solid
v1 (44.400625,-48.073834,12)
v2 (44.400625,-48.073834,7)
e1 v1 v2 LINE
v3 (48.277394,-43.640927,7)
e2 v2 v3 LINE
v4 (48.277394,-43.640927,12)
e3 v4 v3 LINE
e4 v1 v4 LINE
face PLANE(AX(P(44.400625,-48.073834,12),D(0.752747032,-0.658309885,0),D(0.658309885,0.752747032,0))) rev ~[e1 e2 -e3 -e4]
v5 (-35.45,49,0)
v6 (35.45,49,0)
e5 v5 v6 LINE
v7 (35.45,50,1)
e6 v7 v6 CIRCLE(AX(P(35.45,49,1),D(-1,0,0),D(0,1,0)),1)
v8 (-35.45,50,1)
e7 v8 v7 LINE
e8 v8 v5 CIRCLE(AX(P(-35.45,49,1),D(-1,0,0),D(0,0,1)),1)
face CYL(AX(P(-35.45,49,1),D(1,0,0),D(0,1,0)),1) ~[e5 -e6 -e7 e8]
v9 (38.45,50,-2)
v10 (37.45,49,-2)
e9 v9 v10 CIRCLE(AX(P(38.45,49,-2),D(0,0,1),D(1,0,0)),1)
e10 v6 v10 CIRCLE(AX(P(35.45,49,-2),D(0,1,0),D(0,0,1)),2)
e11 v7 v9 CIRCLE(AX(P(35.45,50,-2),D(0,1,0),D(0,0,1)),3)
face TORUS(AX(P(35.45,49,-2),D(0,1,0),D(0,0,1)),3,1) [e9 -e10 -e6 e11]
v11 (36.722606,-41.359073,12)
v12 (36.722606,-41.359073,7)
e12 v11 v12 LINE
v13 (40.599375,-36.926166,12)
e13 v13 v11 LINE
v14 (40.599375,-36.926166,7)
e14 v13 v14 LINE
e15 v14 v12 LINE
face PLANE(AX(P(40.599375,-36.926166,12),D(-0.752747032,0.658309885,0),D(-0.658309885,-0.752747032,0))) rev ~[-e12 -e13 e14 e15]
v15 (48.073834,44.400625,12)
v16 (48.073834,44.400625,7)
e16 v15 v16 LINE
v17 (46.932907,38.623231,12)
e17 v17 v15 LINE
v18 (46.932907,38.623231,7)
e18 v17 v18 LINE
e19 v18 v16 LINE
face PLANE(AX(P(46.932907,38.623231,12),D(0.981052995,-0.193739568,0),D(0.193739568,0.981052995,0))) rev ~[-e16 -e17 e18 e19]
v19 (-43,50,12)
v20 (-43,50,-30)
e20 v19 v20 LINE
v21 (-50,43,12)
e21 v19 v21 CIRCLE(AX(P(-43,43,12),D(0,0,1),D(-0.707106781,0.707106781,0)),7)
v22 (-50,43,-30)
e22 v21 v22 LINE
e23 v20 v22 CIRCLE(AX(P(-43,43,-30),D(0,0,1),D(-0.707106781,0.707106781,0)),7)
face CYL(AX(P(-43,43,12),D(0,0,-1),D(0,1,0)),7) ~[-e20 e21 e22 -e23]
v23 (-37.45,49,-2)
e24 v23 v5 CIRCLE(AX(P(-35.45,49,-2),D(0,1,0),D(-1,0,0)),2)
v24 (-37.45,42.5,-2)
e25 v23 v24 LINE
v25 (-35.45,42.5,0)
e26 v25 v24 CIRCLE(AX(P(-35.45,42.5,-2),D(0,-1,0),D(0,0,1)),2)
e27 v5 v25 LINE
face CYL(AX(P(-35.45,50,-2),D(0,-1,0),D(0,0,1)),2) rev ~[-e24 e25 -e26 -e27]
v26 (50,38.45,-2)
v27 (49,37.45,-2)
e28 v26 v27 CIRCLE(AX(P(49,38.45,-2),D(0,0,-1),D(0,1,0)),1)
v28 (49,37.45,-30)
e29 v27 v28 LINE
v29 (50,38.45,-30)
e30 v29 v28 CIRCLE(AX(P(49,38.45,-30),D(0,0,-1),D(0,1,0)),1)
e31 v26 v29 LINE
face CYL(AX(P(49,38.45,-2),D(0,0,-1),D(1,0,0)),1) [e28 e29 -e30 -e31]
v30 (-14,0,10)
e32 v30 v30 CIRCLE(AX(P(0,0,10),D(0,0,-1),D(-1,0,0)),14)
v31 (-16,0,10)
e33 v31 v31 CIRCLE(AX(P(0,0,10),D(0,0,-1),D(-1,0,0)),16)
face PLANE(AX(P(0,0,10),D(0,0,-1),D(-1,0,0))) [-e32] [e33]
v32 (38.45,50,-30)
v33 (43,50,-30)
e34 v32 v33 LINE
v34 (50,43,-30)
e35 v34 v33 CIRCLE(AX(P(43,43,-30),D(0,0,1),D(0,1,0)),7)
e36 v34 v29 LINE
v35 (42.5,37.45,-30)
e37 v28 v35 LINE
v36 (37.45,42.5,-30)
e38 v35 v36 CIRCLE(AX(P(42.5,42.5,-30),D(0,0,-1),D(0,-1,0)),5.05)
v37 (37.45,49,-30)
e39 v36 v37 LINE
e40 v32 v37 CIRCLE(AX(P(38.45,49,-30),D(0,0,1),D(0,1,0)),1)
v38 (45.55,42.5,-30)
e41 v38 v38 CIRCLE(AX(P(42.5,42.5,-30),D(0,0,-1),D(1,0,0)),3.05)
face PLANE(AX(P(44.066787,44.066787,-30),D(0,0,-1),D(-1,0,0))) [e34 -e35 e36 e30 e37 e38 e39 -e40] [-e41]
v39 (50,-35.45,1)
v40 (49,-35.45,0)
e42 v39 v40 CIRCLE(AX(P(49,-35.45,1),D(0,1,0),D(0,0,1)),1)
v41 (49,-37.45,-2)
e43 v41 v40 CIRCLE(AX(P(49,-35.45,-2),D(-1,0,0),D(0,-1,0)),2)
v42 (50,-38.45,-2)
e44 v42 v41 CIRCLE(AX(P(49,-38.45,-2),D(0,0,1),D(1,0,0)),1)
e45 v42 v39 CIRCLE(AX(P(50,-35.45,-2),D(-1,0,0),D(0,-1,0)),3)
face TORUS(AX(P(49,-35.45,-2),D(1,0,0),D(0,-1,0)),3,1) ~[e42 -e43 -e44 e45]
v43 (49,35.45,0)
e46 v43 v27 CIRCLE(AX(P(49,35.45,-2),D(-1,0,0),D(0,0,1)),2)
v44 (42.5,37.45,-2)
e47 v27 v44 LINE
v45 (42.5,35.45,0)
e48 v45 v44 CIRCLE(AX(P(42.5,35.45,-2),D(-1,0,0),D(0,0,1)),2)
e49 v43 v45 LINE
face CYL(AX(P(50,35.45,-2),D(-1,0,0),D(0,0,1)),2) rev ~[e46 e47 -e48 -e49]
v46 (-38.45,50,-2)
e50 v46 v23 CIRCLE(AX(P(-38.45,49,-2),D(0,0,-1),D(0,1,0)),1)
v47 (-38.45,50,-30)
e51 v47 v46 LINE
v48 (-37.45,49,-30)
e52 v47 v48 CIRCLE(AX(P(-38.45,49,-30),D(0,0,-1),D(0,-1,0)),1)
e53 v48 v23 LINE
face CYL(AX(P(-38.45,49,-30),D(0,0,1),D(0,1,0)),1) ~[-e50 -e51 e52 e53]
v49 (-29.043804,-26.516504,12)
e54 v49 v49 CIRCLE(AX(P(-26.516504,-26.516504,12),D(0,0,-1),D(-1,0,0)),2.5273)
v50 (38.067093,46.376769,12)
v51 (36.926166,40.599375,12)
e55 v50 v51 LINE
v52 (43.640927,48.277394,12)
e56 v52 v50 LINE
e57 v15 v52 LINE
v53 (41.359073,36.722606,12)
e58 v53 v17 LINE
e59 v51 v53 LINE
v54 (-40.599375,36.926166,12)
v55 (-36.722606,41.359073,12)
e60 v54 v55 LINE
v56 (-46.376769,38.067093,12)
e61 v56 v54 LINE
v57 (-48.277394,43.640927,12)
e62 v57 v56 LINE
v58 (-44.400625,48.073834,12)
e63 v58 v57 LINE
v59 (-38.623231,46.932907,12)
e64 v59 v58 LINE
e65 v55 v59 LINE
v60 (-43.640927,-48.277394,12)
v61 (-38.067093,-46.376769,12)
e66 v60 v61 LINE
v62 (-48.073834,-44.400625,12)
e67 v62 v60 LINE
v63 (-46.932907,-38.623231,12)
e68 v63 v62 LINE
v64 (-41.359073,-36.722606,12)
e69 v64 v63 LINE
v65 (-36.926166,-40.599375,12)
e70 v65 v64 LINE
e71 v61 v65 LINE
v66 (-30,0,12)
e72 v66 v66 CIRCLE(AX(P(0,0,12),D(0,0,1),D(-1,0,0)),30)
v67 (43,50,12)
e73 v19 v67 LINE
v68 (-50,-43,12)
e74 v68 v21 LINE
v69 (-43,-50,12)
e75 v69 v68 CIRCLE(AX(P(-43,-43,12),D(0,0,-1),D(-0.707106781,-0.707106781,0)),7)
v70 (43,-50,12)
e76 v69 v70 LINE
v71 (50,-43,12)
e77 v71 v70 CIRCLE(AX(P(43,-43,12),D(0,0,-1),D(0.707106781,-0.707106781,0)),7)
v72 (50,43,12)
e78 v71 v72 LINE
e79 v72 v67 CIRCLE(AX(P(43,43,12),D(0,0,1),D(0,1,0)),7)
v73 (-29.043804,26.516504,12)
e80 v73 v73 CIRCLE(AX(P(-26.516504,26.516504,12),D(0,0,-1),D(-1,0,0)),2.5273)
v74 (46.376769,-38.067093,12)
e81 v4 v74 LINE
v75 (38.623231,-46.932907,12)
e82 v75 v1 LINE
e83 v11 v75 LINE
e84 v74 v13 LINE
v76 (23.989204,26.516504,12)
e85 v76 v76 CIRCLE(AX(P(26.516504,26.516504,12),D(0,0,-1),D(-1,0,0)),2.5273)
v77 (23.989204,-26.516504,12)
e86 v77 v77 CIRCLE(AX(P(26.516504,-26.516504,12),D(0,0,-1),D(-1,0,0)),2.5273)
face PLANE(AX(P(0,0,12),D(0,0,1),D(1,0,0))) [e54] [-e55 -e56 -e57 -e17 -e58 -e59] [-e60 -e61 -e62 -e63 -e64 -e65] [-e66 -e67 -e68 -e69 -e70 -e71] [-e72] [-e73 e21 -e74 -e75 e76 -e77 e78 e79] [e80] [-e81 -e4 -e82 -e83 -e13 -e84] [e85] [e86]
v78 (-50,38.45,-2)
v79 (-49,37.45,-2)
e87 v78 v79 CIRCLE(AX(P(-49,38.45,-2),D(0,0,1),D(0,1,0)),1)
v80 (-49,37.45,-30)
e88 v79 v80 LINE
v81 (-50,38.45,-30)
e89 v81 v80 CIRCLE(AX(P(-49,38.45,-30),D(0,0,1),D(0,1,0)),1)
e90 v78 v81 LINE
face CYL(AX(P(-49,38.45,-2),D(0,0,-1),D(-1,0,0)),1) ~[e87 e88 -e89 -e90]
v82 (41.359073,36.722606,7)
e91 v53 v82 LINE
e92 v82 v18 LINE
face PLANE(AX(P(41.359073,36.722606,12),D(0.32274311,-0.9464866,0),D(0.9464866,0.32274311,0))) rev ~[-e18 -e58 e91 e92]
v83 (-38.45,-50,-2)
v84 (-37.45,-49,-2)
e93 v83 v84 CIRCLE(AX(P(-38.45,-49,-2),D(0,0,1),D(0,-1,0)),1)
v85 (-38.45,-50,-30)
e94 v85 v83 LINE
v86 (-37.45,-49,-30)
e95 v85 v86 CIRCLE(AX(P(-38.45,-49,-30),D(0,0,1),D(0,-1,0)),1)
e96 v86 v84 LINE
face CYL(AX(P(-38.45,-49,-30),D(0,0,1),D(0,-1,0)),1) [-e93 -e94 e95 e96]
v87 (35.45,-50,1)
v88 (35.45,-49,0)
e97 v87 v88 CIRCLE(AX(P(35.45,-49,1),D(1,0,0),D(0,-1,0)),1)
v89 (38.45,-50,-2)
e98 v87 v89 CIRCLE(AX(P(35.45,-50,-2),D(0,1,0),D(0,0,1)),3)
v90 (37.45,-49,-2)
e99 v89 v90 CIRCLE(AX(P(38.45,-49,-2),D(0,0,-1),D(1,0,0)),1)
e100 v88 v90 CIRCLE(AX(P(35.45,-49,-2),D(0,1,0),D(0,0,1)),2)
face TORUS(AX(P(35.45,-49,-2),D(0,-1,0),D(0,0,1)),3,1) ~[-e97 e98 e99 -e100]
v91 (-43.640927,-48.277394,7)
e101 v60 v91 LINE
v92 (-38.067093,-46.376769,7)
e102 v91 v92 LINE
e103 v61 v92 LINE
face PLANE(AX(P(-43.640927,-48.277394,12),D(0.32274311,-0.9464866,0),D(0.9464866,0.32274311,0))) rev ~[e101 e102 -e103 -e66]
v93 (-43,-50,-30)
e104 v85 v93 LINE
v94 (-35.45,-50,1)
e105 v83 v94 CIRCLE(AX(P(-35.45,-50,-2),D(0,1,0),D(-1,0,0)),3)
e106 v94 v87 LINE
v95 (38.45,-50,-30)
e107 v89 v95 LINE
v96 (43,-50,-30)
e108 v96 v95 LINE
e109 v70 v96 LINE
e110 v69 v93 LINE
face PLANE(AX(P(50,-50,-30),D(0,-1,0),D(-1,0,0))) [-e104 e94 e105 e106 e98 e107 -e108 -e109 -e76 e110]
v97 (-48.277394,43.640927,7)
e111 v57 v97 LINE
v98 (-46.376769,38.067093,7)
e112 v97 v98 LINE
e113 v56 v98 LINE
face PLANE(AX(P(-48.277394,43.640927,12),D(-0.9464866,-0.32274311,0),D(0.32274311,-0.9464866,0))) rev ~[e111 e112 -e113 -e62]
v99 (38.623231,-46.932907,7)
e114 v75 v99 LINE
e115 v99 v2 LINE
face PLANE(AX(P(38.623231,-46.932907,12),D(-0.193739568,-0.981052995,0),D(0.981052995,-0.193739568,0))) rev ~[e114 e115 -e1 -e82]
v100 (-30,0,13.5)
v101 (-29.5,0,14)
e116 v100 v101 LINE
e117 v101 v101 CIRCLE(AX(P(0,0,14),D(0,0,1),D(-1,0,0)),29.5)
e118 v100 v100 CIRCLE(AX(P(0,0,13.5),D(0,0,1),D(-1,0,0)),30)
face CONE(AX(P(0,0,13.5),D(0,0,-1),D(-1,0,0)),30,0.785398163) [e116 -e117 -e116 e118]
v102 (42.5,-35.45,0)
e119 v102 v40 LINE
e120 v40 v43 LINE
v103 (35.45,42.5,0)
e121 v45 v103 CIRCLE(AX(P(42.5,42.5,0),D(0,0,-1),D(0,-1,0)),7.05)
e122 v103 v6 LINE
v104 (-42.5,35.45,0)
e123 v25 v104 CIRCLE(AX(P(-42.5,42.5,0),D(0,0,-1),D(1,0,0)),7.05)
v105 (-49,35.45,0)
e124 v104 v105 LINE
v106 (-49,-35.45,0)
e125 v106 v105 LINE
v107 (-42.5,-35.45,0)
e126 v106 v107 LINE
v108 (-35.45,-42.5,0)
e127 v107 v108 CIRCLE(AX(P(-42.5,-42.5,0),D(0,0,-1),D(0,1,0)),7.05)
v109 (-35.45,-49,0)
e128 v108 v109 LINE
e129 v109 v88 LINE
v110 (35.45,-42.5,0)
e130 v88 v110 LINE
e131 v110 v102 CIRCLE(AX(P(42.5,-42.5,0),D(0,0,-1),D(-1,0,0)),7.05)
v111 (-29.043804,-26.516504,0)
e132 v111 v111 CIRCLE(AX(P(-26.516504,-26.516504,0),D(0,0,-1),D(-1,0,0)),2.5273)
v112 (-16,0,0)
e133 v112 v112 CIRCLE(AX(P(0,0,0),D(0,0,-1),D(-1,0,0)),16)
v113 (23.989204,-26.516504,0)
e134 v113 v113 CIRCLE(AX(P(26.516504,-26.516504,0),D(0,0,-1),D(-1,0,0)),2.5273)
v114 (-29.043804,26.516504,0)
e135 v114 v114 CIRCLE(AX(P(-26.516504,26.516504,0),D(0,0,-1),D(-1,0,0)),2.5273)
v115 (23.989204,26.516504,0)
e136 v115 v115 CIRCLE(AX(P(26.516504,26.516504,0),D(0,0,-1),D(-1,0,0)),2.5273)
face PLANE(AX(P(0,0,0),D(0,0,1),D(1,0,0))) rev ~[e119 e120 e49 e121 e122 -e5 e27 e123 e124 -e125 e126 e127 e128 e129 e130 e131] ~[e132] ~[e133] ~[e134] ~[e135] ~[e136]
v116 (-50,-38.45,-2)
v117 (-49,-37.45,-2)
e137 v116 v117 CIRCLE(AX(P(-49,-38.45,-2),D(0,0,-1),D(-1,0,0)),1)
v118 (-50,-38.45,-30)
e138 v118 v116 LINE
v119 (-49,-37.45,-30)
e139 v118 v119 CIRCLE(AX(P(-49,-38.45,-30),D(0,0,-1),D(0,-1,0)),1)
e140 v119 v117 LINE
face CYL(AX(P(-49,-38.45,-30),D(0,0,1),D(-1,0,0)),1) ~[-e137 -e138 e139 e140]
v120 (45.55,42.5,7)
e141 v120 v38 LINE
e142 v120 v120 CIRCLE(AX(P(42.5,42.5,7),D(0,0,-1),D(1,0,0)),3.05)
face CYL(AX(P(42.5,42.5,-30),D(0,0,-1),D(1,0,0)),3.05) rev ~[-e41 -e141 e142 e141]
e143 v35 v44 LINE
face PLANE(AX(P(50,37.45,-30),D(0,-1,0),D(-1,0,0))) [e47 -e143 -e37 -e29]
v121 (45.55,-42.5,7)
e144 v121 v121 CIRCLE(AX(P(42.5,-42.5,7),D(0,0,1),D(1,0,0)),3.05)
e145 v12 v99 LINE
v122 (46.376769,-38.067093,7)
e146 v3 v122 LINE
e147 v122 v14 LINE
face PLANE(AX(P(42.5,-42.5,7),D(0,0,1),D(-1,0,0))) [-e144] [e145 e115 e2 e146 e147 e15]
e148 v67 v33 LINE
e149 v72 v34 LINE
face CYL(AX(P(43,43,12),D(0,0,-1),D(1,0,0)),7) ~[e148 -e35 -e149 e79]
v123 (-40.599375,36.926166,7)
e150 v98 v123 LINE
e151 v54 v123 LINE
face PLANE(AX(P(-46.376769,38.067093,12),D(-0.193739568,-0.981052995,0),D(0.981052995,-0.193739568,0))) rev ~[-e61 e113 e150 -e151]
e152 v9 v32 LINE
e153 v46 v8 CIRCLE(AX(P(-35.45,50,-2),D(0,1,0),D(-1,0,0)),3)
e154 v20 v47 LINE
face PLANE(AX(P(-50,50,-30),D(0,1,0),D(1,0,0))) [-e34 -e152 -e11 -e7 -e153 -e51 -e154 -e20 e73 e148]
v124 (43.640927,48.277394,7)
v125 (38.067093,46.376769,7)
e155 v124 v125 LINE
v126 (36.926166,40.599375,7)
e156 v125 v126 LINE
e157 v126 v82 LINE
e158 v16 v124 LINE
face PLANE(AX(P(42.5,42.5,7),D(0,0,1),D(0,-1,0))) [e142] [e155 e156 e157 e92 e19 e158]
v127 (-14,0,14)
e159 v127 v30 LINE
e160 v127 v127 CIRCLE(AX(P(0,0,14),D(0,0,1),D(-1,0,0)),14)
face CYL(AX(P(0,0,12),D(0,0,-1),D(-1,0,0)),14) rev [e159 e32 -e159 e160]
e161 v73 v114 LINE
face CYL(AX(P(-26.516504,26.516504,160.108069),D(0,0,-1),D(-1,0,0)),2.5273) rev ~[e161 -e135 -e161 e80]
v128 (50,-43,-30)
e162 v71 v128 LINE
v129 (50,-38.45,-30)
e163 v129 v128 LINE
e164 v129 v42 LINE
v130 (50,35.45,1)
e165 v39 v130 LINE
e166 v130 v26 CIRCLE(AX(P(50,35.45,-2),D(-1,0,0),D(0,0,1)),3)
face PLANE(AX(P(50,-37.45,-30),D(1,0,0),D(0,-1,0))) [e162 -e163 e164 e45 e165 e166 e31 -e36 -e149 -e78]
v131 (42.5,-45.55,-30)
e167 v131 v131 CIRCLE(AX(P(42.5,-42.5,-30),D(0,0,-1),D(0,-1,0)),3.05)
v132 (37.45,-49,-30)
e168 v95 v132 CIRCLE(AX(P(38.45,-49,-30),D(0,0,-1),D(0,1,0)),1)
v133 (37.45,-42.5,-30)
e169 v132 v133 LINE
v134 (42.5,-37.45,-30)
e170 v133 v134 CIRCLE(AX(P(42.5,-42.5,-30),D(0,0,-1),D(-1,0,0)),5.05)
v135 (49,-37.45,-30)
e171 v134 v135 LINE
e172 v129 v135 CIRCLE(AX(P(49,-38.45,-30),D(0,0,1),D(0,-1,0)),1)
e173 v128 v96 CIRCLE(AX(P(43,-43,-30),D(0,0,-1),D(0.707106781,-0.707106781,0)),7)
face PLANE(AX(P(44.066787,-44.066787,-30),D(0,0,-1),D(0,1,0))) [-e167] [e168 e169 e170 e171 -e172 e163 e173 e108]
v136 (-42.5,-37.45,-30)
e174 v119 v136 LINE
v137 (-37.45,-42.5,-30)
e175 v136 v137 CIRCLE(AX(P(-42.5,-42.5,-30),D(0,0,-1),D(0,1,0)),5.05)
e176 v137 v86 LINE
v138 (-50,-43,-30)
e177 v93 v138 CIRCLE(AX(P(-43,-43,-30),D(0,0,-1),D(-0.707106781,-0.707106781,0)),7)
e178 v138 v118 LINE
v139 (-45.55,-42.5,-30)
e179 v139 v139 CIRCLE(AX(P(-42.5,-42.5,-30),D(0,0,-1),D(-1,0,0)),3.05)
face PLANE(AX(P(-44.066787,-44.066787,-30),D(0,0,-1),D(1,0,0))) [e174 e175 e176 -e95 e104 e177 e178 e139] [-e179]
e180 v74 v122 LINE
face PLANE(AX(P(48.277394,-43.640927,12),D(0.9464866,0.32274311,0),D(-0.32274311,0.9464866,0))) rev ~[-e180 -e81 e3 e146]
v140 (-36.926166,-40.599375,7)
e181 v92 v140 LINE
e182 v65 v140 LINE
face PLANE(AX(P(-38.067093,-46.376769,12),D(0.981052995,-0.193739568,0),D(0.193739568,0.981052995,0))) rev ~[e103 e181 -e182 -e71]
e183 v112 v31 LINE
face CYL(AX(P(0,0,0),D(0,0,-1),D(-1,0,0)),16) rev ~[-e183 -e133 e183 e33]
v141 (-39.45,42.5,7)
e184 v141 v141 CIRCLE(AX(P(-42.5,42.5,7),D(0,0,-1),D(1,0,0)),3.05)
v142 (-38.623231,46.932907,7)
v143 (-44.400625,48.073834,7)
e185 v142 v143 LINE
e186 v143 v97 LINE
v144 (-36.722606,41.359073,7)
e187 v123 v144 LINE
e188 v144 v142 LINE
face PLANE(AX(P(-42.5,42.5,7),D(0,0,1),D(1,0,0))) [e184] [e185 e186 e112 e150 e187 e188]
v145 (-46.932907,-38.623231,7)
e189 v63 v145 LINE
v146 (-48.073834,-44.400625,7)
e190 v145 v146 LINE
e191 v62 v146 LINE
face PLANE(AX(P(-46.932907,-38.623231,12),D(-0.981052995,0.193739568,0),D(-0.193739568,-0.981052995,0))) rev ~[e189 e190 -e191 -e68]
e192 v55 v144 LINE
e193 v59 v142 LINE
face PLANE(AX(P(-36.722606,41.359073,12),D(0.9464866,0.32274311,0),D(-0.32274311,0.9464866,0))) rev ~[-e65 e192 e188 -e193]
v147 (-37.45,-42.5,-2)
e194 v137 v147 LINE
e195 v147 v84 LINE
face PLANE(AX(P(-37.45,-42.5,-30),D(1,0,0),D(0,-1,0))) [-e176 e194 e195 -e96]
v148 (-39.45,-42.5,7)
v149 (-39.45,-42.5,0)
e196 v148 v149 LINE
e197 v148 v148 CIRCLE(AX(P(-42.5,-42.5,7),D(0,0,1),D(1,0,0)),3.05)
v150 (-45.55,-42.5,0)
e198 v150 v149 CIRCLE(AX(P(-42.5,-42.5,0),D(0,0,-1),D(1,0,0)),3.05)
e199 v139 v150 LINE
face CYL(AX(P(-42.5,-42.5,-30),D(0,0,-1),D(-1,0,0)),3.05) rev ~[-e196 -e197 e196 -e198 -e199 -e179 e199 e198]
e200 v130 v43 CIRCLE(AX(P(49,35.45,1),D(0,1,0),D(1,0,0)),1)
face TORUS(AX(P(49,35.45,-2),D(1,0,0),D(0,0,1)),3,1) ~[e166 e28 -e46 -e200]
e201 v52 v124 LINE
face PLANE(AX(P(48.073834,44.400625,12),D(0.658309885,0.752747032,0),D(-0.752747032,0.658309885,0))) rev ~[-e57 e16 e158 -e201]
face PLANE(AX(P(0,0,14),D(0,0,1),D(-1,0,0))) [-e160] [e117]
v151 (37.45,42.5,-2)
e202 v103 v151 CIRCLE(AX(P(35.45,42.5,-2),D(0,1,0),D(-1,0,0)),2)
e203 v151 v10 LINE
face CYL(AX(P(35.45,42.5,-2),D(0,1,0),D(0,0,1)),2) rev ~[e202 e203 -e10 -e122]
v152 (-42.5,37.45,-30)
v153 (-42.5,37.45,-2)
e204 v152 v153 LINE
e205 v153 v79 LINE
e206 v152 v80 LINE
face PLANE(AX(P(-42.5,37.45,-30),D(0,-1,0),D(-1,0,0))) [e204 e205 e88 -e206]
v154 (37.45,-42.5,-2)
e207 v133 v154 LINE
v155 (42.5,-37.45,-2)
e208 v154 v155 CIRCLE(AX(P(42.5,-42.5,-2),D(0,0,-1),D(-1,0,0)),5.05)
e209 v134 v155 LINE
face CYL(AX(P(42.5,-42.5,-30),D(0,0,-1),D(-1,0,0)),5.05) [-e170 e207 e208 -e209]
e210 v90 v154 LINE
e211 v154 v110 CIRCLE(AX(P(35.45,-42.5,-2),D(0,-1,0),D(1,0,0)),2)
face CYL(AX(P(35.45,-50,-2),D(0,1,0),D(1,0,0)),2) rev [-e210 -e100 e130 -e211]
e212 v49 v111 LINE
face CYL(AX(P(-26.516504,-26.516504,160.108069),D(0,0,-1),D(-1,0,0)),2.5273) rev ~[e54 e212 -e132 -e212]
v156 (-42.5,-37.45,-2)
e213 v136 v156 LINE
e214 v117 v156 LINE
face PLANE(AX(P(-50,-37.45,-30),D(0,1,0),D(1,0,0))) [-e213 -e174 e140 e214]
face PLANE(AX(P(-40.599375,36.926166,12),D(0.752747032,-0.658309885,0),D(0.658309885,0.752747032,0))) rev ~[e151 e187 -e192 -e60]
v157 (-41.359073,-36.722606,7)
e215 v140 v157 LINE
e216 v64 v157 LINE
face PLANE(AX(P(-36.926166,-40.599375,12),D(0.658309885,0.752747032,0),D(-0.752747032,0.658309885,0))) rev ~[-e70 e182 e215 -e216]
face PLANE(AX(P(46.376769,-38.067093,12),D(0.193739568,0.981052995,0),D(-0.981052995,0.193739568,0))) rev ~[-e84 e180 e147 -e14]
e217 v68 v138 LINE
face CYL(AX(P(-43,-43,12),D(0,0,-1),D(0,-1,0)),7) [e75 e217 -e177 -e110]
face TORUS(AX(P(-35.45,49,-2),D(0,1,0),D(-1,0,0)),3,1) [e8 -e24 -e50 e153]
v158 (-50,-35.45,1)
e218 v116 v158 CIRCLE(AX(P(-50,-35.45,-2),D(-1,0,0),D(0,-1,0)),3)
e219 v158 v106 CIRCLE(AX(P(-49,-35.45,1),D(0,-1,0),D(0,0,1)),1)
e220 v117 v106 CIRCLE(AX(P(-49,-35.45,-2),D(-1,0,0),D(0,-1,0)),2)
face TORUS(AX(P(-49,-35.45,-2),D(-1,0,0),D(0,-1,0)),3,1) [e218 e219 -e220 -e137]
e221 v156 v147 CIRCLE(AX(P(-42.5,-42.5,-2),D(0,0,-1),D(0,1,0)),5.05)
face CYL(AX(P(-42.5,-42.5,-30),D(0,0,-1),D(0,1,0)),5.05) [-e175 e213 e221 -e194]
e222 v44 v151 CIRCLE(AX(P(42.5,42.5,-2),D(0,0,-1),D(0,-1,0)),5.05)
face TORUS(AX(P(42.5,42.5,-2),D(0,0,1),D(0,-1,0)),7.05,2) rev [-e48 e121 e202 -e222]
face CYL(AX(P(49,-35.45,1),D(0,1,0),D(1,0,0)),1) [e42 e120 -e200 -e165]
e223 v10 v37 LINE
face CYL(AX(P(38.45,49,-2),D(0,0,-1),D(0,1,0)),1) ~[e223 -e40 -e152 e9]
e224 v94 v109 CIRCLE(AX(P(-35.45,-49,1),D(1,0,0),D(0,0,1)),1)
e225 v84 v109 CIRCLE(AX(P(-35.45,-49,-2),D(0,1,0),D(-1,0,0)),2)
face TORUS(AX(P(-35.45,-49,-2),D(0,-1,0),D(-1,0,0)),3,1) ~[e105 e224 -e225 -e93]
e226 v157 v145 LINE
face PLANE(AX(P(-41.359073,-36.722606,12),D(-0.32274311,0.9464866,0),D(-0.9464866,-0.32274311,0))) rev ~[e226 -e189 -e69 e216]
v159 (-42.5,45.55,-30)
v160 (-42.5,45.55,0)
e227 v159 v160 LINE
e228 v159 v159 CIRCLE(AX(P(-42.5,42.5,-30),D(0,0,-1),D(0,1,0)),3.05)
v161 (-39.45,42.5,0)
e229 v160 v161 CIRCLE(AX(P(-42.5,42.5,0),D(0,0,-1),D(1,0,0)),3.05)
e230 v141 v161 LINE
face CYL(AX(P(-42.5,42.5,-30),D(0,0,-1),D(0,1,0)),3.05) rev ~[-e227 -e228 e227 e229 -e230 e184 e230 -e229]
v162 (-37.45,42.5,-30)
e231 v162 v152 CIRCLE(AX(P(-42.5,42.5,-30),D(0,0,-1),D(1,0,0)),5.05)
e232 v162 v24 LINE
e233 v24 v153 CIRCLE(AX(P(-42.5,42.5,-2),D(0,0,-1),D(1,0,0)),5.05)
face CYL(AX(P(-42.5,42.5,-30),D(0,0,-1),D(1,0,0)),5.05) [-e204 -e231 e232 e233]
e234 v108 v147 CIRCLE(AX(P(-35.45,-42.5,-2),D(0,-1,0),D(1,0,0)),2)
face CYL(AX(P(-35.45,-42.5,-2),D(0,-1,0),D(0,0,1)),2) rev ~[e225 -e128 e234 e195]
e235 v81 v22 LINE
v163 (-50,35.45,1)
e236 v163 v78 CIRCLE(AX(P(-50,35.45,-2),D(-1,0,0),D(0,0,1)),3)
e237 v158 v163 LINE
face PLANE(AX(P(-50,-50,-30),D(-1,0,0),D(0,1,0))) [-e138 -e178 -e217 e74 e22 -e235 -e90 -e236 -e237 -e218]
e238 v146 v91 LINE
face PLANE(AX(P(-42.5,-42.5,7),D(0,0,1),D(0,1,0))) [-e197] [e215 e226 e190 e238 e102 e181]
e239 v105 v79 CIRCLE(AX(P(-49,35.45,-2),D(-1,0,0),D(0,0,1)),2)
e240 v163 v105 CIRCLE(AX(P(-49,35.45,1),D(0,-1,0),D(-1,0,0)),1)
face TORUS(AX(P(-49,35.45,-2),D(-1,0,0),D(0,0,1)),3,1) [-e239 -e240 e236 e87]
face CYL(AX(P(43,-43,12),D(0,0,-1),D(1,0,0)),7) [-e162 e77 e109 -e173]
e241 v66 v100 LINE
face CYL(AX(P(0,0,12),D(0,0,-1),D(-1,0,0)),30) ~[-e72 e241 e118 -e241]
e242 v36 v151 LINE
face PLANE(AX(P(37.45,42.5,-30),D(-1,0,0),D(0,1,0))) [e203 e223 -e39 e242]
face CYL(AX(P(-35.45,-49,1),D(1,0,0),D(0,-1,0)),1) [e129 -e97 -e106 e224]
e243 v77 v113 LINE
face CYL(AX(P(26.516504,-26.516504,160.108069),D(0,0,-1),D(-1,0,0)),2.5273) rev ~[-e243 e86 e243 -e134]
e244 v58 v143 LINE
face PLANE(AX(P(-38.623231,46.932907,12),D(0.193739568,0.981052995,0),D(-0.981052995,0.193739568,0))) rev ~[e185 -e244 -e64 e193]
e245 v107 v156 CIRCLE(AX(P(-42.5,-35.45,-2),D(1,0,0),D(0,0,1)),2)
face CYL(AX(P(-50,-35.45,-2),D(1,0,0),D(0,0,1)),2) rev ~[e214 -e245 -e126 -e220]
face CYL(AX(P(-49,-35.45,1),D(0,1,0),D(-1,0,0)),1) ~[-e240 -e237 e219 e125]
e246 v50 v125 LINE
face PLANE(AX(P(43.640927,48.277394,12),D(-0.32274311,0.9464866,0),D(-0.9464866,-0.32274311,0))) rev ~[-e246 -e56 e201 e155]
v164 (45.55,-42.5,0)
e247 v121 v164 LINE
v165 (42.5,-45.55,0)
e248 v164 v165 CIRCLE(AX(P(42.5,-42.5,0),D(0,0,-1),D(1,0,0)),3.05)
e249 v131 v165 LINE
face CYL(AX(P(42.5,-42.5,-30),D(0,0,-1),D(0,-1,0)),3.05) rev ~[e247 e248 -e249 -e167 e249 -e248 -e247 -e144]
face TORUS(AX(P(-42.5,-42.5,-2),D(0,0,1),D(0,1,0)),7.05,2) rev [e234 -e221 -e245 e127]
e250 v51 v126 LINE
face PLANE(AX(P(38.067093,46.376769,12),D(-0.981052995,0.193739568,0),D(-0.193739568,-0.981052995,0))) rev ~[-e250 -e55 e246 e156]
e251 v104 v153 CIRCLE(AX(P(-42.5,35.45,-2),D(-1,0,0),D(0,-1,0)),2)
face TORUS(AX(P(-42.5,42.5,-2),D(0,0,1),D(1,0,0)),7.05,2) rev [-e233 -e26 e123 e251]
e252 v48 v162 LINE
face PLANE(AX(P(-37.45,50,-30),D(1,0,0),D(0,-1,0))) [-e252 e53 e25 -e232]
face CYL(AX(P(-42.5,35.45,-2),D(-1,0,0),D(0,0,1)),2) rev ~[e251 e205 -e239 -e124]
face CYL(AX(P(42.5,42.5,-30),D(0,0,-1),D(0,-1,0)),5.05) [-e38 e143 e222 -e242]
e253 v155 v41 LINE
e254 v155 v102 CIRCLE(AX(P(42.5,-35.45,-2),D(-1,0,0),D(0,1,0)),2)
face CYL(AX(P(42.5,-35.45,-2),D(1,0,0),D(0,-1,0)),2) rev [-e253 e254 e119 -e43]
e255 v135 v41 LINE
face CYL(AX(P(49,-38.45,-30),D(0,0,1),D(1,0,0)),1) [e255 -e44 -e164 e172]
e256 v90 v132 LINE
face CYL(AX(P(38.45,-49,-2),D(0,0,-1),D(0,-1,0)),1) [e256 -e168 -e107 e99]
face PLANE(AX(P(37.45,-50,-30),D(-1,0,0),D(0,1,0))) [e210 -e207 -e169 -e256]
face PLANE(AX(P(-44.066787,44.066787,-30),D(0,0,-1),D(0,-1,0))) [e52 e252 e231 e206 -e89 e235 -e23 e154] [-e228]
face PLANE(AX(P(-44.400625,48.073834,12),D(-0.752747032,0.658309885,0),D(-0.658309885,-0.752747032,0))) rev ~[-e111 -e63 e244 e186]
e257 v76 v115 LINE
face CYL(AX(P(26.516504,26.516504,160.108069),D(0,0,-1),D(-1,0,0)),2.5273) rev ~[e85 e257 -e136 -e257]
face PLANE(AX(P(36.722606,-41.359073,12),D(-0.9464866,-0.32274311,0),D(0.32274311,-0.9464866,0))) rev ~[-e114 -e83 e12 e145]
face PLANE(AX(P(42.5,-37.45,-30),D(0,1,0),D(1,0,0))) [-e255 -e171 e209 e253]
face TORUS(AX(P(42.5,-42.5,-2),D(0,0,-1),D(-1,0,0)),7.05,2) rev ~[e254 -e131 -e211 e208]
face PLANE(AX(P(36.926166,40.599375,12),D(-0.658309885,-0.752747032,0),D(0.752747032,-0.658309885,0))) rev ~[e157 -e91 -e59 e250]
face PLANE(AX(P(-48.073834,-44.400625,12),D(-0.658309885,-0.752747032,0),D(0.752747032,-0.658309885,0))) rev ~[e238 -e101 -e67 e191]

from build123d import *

# Parameters (mm, degrees)
SKETCH2_W                  = 100
SKETCH2_H                  = 100
BOSS_EXTRUDE1_DEPTH        = 12
SKETCH3_R                  = 16
CUT_EXTRUDE1_DEPTH         = 10
M6_CLEARANCE_HOLE1_D       = 6.1
BOSS_EXTRUDE2_START        = 30
SKETCH17_R                 = 3.05
BOSS_EXTRUDE2_DEPTH        = 30
CIRPATTERN1_COUNT          = 4
SKETCH18_R                 = 14
CUT_EXTRUDE3_DEPTH         = 77.811457479
FILLET1_R                  = 2
FILLET2_R                  = 7
CUT_EXTRUDE6_DEPTH         = 5
CIRPATTERN2_COUNT          = 4
SKETCH25_R                 = 30
SKETCH25_R_2               = 14
BOSS_EXTRUDE3_DEPTH        = 2
F_8_0_199_DIAMETER_HOLE1_D = 5.0546
CHAMFER1_SIZE              = 0.5
FILLET3_R                  = 1


with BuildPart() as part:
    # Sketch2 → Boss-Extrude1 (new body)
    with BuildSketch(Plane.XY):
        Rectangle(SKETCH2_W, SKETCH2_H)
    extrude(amount=BOSS_EXTRUDE1_DEPTH)

    # Sketch3 → Cut-Extrude1 (cut)
    with BuildSketch(Plane(origin=(0, 0, 0), x_dir=(-1, 0, 0), z_dir=(0, 0, -1))):
        Circle(SKETCH3_R)
    extrude(amount=-CUT_EXTRUDE1_DEPTH, mode=Mode.SUBTRACT)

    # M6 Clearance Hole1 (through all)
    with Locations(Plane(origin=(0, 0, 12), x_dir=(-1, 0, 0), z_dir=(0, 0, 1))):
        with Locations((42.5, -42.5), (-42.5, 42.5), (-42.5, -42.5), (42.5, 42.5)):
            Hole(M6_CLEARANCE_HOLE1_D / 2)

    # Sketch17 → Boss-Extrude2 (add)
    with BuildSketch(Plane(origin=(0, 0, 0), x_dir=(-1, 0, 0), z_dir=(0, 0, -1)).offset(BOSS_EXTRUDE2_START)):
        with BuildLine():
            Line((-37.45, 42.5), (-37.45, 50))
            Line((-37.45, 50), (-50, 50))
            Line((-50, 50), (-50, 37.45))
            Line((-50, 37.45), (-42.5, 37.45))
            ThreePointArc((-42.5, 37.45), (-38.929110755, 38.929110755), (-37.45, 42.5))
        make_face()
        with Locations(Location((-42.5, 42.5, 0), (0, 0, 180))):
            Circle(SKETCH17_R, mode=Mode.SUBTRACT)
    boss_extrude2 = extrude(amount=-BOSS_EXTRUDE2_DEPTH)

    # CirPattern1: Boss-Extrude2 ×4 about axis
    cirpattern1_axis = Axis((0, 0, 0), (0, 0, 1))
    for i in range(1, CIRPATTERN1_COUNT):
        add(boss_extrude2.rotate(cirpattern1_axis, i * 360 / CIRPATTERN1_COUNT))

    # Sketch18 → Cut-Extrude3 (cut, through all)
    with BuildSketch(Plane(origin=(0, 0, 0), x_dir=(-1, 0, 0), z_dir=(0, 0, -1))):
        Circle(SKETCH18_R)
    extrude(amount=-CUT_EXTRUDE3_DEPTH, mode=Mode.SUBTRACT)

    # Fillet1
    fillet1_edges = [part.edges().sort_by_distance(p)[0] for p in [
        (38.929110755, 38.929110755, 0),
        (37.45, 46.25, 0),
        (46.25, 37.45, 0),
        (-38.929110755, 38.929110755, 0),
        (-46.25, 37.45, 0),
        (-37.45, 46.25, 0),
        (-38.929110755, -38.929110755, 0),
        (-37.45, -46.25, 0),
        (-46.25, -37.45, 0),
        (38.929110755, -38.929110755, 0),
        (46.25, -37.45, 0),
        (37.45, -46.25, 0),
    ]]
    fillet(fillet1_edges, radius=FILLET1_R)

    # Fillet2
    fillet2_edges = [part.edges().sort_by_distance(p)[0] for p in [
        (50, -50, -9),
        (-50, -50, -9),
        (-50, 50, -9),
        (50, 50, -9),
    ]]
    fillet(fillet2_edges, radius=FILLET2_R)

    # Sketch24 → Cut-Extrude6 (cut)
    with BuildSketch(Plane.XY.offset(12)):
        Polygon((-44.400625379, 48.073833795), (-48.277394352, 43.640927036), (-46.376768973, 38.067093242), (-40.599374621, 36.926166205), (-36.722605648, 41.359072964), (-38.623231027, 46.932906758), align=None)
    cut_extrude6 = extrude(amount=-CUT_EXTRUDE6_DEPTH, mode=Mode.SUBTRACT)

    # CirPattern2: Cut-Extrude6 ×4 about axis
    cirpattern2_axis = Axis((0, 0, 0), (0, 0, 1))
    for i in range(1, CIRPATTERN2_COUNT):
        add(cut_extrude6.rotate(cirpattern2_axis, i * 360 / CIRPATTERN2_COUNT), mode=Mode.SUBTRACT)

    # Sketch25 → Boss-Extrude3 (add)
    with BuildSketch(Plane.XY.offset(12)):
        with Locations(Location((0, 0, 0), (0, 0, 180))):
            Circle(SKETCH25_R)
        with Locations(Location((0, 0, 0), (0, 0, 180))):
            Circle(SKETCH25_R_2, mode=Mode.SUBTRACT)
    extrude(amount=BOSS_EXTRUDE3_DEPTH)

    # #8 (0.199) Diameter Hole1 (through all)
    with Locations(Plane(origin=(26.516504294, 26.516504294, 12), x_dir=(1, 0, 0), z_dir=(0, 0, 1))):
        with Locations((0, 0), (-53.033008588, 0), (-53.033008588, -53.033008588), (0, -53.033008588)):
            Hole(F_8_0_199_DIAMETER_HOLE1_D / 2)

    # Chamfer1
    chamfer1_edges = [part.edges().sort_by_distance(p)[0] for p in [
        (30, 0, 14),
    ]]
    chamfer(chamfer1_edges, length=CHAMFER1_SIZE)

    # Fillet3
    fillet3_edges = [part.edges().sort_by_distance(p)[0] for p in [
        (50, 0, 0),
        (0, -50, 0),
        (-50, 0, 0),
        (0, 50, 0),
        (-36.864213562, 50, -0.585786438),
        (-50, 36.864213562, -0.585786438),
        (-50, -36.864213562, -0.585786438),
        (-36.864213562, -50, -0.585786438),
        (36.864213562, -50, -0.585786438),
        (50, -36.864213562, -0.585786438),
        (50, 36.864213562, -0.585786438),
        (36.864213562, 50, -0.585786438),
        (37.45, 50, -16),
        (50, 37.45, -16),
        (-50, 37.45, -16),
        (-37.45, 50, -16),
        (-37.45, -50, -16),
        (-50, -37.45, -16),
        (50, -37.45, -16),
        (37.45, -50, -16),
    ]]
    fillet(fillet3_edges, radius=FILLET3_R)


solid = part.part
